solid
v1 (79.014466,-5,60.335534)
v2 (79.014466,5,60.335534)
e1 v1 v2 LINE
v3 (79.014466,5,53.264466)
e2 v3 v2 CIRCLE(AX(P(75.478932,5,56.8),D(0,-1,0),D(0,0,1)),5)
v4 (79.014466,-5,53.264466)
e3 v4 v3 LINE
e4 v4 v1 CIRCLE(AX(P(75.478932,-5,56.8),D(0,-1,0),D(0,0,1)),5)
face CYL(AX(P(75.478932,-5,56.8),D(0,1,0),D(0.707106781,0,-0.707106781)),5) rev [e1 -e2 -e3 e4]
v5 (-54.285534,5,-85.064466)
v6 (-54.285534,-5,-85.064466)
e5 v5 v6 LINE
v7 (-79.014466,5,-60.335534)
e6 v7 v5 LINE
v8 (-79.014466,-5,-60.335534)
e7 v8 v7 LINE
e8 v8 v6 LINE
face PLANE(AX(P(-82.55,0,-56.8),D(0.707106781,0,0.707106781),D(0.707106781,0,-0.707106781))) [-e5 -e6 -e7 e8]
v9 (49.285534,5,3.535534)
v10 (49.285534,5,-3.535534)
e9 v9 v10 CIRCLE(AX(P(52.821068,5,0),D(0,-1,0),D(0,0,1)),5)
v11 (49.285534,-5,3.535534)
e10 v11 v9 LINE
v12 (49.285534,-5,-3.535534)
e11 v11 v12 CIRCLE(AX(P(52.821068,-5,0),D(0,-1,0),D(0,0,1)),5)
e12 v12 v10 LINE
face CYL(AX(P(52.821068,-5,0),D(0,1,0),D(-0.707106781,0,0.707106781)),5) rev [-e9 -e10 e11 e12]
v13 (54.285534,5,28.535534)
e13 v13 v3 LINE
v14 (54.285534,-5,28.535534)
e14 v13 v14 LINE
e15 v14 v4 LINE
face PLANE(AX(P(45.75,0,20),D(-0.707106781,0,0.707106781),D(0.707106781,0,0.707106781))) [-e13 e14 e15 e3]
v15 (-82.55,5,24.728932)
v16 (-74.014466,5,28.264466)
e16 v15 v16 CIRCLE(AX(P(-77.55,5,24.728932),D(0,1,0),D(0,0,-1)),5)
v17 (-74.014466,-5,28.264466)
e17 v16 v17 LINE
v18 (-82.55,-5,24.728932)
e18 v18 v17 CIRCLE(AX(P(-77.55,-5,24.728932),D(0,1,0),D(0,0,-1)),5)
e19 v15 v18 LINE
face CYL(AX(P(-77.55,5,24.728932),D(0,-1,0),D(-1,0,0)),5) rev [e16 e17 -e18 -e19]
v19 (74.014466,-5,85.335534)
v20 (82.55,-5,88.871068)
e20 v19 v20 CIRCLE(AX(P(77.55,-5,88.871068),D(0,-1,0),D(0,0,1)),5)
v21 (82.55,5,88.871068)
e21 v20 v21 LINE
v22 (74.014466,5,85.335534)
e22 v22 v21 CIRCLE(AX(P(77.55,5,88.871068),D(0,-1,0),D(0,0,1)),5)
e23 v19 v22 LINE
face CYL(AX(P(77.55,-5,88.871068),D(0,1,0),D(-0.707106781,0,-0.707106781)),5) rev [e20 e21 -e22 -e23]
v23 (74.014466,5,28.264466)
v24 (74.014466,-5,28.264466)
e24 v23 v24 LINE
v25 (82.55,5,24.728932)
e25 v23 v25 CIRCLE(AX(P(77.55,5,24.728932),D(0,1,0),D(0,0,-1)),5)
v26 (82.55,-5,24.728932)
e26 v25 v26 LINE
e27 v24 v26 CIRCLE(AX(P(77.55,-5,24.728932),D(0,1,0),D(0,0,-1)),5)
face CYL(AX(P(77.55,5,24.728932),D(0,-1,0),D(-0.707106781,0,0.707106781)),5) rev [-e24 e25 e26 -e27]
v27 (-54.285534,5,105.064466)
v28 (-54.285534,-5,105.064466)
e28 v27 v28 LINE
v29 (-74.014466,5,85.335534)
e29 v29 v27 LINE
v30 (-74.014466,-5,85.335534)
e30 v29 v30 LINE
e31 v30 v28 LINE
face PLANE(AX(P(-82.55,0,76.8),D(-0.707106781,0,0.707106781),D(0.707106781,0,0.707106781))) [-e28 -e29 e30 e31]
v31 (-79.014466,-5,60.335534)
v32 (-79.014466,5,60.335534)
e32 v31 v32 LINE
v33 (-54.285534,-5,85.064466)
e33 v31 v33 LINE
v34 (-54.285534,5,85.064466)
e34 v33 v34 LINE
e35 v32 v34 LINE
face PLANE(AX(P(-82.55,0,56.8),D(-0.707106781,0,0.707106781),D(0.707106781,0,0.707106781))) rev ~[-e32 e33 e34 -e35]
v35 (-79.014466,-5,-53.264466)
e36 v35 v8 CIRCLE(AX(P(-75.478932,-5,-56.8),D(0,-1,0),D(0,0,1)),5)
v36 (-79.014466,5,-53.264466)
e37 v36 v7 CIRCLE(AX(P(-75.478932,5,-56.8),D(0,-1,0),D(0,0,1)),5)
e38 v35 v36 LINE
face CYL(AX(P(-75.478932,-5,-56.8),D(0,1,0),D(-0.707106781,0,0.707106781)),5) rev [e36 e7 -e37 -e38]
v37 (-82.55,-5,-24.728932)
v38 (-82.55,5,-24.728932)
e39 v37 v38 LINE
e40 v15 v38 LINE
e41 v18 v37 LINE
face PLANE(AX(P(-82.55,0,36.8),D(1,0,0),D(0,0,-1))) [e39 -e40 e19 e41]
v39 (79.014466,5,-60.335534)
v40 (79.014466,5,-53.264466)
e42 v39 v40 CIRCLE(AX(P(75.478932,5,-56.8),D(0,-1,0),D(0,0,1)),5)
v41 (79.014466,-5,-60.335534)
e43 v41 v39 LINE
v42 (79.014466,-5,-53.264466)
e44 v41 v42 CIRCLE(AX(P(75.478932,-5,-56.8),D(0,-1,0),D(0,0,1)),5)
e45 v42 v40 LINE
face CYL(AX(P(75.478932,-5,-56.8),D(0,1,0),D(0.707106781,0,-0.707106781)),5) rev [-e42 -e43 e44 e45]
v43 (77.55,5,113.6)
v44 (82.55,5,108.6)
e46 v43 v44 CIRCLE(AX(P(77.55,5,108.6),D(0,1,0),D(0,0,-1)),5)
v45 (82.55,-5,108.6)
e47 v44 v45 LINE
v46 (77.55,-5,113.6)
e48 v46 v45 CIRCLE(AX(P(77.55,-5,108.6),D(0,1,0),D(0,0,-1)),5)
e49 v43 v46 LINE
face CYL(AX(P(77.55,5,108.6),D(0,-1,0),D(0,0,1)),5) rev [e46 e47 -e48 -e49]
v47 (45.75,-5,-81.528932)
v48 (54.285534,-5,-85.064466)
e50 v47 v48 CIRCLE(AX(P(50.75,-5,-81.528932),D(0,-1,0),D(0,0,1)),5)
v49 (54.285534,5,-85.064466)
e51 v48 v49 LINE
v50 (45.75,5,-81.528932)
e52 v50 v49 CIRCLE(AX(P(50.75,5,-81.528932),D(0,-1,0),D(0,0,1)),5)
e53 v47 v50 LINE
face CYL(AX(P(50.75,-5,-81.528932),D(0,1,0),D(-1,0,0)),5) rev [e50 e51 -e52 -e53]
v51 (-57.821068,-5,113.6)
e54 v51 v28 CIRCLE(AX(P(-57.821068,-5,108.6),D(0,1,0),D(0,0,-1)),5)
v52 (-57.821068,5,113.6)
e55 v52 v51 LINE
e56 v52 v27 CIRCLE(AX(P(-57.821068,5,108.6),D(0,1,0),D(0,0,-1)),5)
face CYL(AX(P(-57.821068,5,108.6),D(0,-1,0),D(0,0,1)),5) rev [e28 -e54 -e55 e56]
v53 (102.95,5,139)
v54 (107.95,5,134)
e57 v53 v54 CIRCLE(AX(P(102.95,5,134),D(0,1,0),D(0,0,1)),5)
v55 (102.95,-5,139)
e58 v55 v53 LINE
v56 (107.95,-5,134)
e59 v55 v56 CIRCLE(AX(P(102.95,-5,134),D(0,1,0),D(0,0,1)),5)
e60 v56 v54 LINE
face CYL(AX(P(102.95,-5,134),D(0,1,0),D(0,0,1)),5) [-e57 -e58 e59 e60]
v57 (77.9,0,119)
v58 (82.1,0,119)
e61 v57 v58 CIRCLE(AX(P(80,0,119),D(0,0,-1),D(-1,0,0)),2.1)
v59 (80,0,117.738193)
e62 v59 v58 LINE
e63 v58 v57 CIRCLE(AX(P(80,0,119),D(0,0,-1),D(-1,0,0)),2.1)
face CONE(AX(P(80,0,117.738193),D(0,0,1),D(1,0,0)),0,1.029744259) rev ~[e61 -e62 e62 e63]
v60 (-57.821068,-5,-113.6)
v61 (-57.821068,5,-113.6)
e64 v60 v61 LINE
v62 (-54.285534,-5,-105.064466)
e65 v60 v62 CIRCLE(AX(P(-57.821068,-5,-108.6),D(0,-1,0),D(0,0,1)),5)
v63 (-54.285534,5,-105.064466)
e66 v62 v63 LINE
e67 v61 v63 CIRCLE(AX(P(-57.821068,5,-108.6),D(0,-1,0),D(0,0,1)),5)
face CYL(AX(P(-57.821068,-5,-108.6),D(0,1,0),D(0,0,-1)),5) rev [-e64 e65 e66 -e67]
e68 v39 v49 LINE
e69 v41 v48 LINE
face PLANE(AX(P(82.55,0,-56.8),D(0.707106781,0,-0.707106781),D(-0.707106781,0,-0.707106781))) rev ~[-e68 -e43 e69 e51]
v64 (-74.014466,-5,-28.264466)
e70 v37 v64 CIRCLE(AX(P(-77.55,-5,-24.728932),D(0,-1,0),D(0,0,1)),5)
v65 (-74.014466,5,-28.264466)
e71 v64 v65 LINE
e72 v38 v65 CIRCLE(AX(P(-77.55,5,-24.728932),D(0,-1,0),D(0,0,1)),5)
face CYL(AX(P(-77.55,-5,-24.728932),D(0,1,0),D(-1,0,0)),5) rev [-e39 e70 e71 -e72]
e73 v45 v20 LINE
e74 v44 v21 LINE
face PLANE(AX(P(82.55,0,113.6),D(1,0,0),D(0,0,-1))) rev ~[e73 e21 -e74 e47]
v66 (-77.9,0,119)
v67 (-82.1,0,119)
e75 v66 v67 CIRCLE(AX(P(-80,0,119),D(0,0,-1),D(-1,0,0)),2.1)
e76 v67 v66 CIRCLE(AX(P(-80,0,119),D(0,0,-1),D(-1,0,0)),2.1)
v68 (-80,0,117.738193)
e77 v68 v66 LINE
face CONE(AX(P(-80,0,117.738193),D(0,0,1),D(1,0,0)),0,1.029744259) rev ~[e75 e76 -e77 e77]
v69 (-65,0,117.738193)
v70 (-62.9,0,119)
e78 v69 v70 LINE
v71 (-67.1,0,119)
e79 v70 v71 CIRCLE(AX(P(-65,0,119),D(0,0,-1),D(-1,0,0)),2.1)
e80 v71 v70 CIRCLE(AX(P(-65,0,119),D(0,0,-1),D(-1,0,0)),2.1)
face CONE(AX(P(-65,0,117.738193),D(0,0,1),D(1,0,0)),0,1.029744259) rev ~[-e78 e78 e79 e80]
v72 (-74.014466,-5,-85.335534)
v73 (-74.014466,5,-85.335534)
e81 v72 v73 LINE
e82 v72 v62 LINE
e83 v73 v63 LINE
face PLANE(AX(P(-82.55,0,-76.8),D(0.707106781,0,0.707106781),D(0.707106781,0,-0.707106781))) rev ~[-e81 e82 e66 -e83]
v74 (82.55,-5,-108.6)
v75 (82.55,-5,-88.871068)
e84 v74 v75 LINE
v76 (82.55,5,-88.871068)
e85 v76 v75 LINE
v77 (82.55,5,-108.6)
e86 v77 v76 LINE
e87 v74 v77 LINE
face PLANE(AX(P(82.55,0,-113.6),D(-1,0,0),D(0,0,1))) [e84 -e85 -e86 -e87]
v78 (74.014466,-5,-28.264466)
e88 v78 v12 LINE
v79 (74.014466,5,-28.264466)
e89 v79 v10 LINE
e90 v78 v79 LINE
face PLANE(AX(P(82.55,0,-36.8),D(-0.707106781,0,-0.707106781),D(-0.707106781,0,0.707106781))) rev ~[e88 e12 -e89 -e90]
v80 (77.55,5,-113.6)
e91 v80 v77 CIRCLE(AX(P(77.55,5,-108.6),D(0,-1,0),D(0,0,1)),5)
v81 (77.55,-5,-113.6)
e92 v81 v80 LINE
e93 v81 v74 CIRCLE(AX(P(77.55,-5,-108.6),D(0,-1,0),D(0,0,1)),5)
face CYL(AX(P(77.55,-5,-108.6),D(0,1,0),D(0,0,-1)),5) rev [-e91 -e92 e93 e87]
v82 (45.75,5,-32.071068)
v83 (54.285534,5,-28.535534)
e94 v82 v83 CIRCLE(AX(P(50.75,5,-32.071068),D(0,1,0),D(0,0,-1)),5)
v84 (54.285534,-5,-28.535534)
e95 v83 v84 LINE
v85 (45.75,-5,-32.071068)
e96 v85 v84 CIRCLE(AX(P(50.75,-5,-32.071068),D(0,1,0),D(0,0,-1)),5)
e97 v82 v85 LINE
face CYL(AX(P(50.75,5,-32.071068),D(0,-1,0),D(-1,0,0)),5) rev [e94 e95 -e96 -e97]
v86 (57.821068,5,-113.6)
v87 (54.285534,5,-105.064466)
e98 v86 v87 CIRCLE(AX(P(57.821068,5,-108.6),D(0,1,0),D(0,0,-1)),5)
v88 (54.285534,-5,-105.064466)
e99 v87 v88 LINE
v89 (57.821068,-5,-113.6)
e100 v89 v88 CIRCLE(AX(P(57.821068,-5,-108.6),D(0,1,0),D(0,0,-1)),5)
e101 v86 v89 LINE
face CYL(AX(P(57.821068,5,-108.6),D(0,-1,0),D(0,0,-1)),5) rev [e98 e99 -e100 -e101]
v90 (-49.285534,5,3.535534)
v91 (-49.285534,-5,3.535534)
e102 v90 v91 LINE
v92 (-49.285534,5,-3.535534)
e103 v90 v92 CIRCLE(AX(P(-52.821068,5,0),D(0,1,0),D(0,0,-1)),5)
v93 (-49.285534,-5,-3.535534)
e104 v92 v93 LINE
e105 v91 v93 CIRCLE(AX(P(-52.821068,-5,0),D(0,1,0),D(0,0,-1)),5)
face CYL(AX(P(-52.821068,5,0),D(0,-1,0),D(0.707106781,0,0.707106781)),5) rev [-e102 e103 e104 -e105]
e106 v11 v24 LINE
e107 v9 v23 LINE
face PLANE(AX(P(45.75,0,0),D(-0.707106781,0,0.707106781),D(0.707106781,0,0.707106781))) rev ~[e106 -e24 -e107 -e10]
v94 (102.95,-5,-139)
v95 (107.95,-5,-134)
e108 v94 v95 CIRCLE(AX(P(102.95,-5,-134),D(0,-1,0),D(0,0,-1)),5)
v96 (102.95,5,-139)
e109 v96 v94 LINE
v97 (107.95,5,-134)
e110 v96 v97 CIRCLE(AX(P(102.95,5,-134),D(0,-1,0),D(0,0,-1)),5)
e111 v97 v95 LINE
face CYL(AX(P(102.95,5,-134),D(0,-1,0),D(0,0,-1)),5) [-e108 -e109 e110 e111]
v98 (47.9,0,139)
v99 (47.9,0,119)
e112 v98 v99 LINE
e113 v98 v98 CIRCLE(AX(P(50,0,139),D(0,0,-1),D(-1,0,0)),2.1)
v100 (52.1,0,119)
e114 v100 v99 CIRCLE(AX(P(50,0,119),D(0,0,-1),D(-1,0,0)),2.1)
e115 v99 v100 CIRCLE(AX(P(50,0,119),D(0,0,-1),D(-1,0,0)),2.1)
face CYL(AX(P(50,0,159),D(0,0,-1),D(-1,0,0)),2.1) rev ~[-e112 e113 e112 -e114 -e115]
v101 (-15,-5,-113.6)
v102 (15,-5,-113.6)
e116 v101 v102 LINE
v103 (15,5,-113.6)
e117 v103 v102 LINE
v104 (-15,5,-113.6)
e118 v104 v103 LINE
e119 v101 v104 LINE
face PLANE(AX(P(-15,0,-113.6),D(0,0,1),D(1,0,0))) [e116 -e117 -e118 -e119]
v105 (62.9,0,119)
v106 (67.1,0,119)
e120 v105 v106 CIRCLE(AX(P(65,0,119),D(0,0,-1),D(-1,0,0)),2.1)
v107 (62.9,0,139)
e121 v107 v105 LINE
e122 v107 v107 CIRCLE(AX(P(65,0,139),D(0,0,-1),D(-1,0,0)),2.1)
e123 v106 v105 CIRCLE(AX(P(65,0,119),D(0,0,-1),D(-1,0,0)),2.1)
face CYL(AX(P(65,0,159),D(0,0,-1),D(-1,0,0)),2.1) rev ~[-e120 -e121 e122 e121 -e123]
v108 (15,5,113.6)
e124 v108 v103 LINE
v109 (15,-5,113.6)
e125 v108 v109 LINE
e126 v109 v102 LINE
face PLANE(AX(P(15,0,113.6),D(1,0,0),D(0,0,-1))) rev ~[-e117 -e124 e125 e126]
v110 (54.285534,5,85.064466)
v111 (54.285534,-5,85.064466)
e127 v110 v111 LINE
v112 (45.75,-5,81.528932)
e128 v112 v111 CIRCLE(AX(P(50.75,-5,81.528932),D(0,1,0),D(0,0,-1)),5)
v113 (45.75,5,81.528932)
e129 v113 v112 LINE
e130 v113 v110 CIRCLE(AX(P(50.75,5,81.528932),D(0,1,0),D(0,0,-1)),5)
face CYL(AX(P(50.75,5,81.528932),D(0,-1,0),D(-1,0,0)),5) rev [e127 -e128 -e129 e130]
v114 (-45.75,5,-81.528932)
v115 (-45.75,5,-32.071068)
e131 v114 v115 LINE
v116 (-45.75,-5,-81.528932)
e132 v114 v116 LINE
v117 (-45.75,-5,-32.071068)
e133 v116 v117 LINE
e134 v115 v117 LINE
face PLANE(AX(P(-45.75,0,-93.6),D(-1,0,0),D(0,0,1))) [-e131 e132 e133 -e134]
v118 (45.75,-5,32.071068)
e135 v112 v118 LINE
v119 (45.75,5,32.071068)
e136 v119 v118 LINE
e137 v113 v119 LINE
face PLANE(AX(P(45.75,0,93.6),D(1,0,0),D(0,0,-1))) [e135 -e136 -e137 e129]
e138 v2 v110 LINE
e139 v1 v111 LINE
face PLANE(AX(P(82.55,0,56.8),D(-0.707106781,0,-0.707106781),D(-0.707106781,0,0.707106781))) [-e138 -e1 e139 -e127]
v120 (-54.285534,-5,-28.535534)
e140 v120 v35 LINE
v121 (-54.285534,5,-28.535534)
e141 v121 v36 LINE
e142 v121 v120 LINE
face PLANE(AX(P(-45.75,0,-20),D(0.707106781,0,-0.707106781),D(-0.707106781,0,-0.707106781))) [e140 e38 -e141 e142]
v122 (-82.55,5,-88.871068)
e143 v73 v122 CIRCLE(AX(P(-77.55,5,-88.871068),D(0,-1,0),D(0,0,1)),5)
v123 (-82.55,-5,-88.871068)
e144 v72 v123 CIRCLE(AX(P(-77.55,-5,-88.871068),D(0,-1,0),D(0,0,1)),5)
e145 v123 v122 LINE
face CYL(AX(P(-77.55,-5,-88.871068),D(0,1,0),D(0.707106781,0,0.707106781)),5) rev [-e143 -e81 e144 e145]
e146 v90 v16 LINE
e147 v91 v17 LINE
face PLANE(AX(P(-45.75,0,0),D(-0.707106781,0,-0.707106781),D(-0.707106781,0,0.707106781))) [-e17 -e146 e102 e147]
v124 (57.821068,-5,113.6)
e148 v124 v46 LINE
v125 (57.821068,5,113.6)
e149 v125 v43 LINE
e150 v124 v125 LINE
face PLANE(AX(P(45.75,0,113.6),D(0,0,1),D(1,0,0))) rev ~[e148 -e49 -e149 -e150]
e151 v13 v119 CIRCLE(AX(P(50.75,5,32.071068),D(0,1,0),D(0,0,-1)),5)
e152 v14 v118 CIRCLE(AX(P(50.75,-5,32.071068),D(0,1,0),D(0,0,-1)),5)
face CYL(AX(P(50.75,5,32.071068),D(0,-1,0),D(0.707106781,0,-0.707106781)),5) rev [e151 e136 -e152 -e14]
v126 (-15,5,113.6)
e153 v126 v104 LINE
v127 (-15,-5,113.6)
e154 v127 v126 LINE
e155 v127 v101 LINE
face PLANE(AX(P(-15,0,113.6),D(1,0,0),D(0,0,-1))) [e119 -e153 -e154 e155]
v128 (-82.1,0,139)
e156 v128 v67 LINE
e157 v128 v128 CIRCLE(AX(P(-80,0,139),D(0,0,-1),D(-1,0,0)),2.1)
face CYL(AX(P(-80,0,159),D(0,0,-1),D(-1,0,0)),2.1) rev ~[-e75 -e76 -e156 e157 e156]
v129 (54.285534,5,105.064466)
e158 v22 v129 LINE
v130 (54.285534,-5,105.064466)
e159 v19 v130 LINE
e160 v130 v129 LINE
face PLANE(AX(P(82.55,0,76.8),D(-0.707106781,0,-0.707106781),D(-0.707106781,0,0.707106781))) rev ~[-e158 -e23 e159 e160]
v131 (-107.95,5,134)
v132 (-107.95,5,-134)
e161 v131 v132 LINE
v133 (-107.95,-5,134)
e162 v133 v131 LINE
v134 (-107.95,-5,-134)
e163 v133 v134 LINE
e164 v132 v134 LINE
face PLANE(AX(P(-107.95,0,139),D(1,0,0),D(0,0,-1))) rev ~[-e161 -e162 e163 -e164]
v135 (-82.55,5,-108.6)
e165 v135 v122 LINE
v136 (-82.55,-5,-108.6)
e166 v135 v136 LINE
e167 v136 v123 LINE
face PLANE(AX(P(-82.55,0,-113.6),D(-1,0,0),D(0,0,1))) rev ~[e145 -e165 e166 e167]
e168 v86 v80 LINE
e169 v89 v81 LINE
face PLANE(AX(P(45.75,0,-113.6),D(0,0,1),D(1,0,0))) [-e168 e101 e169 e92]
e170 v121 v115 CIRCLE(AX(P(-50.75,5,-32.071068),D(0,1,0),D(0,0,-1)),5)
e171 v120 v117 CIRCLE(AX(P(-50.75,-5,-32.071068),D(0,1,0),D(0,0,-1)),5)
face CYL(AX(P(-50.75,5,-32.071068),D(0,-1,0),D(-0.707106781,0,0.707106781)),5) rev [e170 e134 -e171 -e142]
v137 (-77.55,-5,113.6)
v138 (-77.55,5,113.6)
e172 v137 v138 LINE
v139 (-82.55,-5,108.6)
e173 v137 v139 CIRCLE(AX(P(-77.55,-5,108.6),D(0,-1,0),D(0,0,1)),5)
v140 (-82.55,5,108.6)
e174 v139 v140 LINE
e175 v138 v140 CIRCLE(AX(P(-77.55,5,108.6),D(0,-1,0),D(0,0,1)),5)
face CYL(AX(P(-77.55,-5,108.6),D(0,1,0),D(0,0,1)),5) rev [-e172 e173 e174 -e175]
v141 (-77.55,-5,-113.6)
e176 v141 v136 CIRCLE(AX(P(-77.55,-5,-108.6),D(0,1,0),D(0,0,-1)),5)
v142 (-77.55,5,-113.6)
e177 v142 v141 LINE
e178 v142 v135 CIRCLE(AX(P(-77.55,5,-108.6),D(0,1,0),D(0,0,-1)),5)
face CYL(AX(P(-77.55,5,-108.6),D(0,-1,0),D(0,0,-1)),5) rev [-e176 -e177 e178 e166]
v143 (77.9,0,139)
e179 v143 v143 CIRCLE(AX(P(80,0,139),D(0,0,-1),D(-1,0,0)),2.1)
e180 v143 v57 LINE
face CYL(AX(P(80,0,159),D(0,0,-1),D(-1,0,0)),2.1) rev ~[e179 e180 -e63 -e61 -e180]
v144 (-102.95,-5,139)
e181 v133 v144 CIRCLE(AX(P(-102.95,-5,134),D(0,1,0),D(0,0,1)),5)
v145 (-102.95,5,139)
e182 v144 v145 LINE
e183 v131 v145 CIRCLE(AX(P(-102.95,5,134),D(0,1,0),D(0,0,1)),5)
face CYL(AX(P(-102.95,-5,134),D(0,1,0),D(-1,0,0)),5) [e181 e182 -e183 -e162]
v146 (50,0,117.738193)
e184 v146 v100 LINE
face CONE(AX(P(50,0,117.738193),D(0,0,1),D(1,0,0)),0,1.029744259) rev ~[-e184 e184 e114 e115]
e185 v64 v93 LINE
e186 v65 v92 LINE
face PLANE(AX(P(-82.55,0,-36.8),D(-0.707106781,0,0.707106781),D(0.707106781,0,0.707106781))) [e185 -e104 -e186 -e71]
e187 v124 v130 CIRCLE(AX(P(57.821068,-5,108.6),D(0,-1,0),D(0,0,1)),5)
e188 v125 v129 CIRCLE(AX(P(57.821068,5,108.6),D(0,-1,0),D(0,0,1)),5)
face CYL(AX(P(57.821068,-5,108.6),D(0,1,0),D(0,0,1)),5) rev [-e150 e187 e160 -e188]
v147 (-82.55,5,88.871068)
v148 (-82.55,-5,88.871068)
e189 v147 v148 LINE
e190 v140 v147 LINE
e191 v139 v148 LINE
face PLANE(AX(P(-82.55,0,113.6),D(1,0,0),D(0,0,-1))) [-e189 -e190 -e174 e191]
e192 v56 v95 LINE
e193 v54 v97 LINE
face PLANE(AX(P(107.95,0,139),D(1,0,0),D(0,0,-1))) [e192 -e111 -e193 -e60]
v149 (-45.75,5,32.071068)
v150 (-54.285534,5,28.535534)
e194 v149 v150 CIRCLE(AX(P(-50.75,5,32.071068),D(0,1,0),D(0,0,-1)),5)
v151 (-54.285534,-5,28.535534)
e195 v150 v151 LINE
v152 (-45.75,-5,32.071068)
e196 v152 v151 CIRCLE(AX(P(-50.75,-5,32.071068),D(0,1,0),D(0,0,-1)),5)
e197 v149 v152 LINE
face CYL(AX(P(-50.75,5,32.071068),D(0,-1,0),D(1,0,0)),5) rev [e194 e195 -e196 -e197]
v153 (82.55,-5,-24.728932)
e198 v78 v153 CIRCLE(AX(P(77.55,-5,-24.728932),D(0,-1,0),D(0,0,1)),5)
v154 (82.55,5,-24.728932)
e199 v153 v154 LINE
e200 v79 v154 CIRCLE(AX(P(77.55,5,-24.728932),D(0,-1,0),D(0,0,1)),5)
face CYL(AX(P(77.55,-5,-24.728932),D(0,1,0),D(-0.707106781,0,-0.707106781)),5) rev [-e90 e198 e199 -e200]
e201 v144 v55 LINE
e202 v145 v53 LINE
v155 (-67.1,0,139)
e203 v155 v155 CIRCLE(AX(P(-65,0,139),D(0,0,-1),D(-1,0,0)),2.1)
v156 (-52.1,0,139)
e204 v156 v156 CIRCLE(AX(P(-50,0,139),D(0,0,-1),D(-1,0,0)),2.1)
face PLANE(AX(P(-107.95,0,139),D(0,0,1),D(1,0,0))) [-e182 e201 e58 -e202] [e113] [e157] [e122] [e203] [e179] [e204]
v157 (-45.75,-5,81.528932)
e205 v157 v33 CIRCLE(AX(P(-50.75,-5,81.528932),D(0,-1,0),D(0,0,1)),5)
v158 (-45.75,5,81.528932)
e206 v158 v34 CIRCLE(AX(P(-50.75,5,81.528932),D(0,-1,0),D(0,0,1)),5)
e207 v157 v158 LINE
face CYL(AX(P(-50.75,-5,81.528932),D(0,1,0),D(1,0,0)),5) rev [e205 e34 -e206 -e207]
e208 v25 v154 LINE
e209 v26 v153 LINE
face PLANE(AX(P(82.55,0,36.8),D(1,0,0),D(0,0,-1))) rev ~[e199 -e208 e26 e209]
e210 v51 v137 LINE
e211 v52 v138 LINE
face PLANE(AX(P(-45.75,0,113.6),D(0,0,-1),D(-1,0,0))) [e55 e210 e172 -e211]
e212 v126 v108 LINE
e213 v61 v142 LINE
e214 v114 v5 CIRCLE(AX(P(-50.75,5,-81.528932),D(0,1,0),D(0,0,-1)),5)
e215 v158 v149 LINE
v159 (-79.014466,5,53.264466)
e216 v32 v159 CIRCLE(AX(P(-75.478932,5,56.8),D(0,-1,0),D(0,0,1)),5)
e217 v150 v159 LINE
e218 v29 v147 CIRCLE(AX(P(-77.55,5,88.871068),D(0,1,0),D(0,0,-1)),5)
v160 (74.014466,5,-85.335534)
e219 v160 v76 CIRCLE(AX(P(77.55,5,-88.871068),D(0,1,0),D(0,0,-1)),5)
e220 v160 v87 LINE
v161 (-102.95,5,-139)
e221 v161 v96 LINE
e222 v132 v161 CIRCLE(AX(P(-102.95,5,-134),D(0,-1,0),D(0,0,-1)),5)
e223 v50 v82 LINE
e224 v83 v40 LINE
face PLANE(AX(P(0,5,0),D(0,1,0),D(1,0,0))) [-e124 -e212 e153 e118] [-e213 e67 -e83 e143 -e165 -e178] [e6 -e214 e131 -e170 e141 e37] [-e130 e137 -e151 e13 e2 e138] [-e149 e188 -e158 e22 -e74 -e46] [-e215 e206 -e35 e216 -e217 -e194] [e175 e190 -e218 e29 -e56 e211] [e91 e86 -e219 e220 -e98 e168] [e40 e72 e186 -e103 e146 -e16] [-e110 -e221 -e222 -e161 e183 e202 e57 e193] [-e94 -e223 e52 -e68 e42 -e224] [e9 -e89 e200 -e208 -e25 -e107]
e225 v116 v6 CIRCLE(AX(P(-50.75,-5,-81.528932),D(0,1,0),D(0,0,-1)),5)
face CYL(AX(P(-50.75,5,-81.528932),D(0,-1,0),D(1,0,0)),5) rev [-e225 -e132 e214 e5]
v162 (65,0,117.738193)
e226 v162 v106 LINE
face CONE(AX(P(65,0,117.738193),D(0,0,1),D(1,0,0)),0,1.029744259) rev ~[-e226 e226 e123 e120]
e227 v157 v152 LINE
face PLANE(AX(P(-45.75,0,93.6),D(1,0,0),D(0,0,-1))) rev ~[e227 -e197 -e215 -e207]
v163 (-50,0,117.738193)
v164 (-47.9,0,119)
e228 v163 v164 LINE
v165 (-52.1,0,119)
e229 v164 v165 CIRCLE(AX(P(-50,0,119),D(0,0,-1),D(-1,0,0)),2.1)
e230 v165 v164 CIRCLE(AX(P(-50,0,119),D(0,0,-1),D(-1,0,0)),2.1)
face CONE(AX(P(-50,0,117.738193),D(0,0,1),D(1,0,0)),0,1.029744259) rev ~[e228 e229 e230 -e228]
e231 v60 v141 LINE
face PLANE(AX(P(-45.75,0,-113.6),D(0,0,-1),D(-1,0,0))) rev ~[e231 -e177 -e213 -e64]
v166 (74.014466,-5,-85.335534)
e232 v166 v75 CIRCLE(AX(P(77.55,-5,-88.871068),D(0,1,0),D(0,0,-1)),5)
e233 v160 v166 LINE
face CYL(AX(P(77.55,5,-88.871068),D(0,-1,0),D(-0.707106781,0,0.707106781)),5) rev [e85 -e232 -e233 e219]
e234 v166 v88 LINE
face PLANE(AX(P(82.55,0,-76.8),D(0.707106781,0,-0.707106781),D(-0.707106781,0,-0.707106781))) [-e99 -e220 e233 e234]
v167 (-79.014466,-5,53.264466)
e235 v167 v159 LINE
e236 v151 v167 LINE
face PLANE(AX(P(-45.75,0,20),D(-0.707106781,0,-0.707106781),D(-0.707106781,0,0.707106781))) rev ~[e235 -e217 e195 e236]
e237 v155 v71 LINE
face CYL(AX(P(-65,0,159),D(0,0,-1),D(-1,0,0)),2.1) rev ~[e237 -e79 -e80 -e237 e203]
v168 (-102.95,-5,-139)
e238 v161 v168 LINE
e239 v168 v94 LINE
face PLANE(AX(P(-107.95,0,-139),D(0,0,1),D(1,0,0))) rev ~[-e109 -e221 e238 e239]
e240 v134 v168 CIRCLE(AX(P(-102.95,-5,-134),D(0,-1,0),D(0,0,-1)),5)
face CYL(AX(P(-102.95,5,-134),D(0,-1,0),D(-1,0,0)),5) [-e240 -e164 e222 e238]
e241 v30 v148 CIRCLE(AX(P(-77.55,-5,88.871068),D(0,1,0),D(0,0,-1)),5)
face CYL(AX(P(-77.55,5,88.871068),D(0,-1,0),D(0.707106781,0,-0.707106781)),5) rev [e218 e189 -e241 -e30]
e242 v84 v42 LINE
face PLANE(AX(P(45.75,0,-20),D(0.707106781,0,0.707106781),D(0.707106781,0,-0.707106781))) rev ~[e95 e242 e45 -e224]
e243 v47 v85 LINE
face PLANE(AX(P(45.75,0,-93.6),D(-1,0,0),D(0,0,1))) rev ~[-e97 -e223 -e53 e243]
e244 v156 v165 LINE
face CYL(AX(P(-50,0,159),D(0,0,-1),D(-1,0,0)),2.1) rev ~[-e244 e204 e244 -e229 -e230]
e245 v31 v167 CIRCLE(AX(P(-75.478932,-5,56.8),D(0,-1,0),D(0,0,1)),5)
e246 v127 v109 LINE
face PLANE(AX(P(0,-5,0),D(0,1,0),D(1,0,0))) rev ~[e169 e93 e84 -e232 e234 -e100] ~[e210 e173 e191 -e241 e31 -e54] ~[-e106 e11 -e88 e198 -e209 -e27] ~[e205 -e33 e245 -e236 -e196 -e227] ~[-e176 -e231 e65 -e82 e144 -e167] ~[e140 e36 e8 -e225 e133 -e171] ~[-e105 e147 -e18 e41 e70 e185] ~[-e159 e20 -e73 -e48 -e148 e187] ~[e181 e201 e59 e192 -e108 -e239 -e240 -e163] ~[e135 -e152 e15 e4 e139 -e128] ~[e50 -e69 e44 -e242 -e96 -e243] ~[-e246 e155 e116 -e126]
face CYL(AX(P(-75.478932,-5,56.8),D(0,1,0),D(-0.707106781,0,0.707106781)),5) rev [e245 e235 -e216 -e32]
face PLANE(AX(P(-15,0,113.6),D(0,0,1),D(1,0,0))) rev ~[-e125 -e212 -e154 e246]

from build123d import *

# Parameters (mm, degrees)
SKETCH1_W                       = 215.9
SKETCH1_H                       = 278
SKETCH1_W_2                     = 30
SKETCH1_H_2                     = 227.2
BOSS_EXTRUDE1_DEPTH             = 5
TAP_DRILL_FOR_M5X0_8_TAP1_D     = 4.2
TAP_DRILL_FOR_M5X0_8_TAP1_DEPTH = 20
TAP_DRILL_FOR_M5X0_8_TAP1_TIP   = 1.2618073
FILLET1_R                       = 5


with BuildPart() as part:
    # Sketch1 → Boss-Extrude1 (new body, symmetric)
    with BuildSketch(Plane(origin=(0, 0, 0), x_dir=(1, 0, 0), z_dir=(0, 1, 0))):
        Rectangle(SKETCH1_W, SKETCH1_H)
        Polygon((-45.75, 113.6), (-82.55, 113.6), (-82.55, 76.8), align=None, mode=Mode.SUBTRACT)
        Rectangle(SKETCH1_W_2, SKETCH1_H_2, mode=Mode.SUBTRACT)
        Polygon((-82.55, 56.8), (-45.75, 93.6), (-45.75, 20), align=None, mode=Mode.SUBTRACT)
        Polygon((-82.55, 36.8), (-45.75, 0), (-82.55, -36.8), align=None, mode=Mode.SUBTRACT)
        Polygon((-82.55, -113.6), (-82.55, -76.8), (-45.75, -113.6), align=None, mode=Mode.SUBTRACT)
        Polygon((-45.75, -93.6), (-45.75, -20), (-82.55, -56.8), align=None, mode=Mode.SUBTRACT)
        Polygon((45.75, -113.6), (82.55, -113.6), (82.55, -76.8), align=None, mode=Mode.SUBTRACT)
        Polygon((82.55, -56.8), (45.75, -93.6), (45.75, -20), align=None, mode=Mode.SUBTRACT)
        Polygon((45.75, 0), (82.55, -36.8), (82.55, 36.8), align=None, mode=Mode.SUBTRACT)
        Polygon((45.75, 93.6), (45.75, 20), (82.55, 56.8), align=None, mode=Mode.SUBTRACT)
        Polygon((82.55, 113.6), (82.55, 76.8), (45.75, 113.6), align=None, mode=Mode.SUBTRACT)
    extrude(amount=BOSS_EXTRUDE1_DEPTH, both=True)

    # Tap Drill for M5x0.8 Tap1
    with Locations(Plane(origin=(-80, 0, 139), x_dir=(1, 0, 0), z_dir=(0, 0, 1))):
        with Locations((0, 0), (15, 0), (30, 0), (130, 0), (145, 0), (160, 0)):
            Hole(TAP_DRILL_FOR_M5X0_8_TAP1_D / 2, depth=TAP_DRILL_FOR_M5X0_8_TAP1_DEPTH)
            with Locations((0, 0, -(TAP_DRILL_FOR_M5X0_8_TAP1_DEPTH + TAP_DRILL_FOR_M5X0_8_TAP1_TIP / 2))):  # 118° drill point
                Cone(0, TAP_DRILL_FOR_M5X0_8_TAP1_D / 2, TAP_DRILL_FOR_M5X0_8_TAP1_TIP, mode=Mode.SUBTRACT)

    # Fillet1
    fillet1_edges = [part.edges().sort_by_distance(p)[0] for p in [
        (45.75, 0, 0),
        (82.55, 0, 36.8),
        (82.55, 0, -56.8),
        (45.75, 0, -93.6),
        (45.75, 0, -20),
        (82.55, 0, -113.6),
        (45.75, 0, -113.6),
        (82.55, 0, -76.8),
        (-82.55, 0, -76.8),
        (-45.75, 0, -113.6),
        (-82.55, 0, -113.6),
        (-82.55, 0, -56.8),
        (-45.75, 0, -20),
        (-45.75, 0, -93.6),
        (-82.55, 0, -36.8),
        (-82.55, 0, 36.8),
        (-45.75, 0, 0),
        (-82.55, 0, 113.6),
        (-45.75, 0, 113.6),
        (-82.55, 0, 76.8),
        (-82.55, 0, 56.8),
        (-45.75, 0, 93.6),
        (-45.75, 0, 20),
        (-107.95, 0, -139),
        (82.55, 0, 76.8),
        (45.75, 0, 113.6),
        (107.95, 0, -139),
        (82.55, 0, 113.6),
        (107.95, 0, 139),
        (-107.95, 0, 139),
        (82.55, 0, 56.8),
        (45.75, 0, 20),
        (45.75, 0, 93.6),
        (82.55, 0, -36.8),
    ]]
    fillet(fillet1_edges, radius=FILLET1_R)


solid = part.part
